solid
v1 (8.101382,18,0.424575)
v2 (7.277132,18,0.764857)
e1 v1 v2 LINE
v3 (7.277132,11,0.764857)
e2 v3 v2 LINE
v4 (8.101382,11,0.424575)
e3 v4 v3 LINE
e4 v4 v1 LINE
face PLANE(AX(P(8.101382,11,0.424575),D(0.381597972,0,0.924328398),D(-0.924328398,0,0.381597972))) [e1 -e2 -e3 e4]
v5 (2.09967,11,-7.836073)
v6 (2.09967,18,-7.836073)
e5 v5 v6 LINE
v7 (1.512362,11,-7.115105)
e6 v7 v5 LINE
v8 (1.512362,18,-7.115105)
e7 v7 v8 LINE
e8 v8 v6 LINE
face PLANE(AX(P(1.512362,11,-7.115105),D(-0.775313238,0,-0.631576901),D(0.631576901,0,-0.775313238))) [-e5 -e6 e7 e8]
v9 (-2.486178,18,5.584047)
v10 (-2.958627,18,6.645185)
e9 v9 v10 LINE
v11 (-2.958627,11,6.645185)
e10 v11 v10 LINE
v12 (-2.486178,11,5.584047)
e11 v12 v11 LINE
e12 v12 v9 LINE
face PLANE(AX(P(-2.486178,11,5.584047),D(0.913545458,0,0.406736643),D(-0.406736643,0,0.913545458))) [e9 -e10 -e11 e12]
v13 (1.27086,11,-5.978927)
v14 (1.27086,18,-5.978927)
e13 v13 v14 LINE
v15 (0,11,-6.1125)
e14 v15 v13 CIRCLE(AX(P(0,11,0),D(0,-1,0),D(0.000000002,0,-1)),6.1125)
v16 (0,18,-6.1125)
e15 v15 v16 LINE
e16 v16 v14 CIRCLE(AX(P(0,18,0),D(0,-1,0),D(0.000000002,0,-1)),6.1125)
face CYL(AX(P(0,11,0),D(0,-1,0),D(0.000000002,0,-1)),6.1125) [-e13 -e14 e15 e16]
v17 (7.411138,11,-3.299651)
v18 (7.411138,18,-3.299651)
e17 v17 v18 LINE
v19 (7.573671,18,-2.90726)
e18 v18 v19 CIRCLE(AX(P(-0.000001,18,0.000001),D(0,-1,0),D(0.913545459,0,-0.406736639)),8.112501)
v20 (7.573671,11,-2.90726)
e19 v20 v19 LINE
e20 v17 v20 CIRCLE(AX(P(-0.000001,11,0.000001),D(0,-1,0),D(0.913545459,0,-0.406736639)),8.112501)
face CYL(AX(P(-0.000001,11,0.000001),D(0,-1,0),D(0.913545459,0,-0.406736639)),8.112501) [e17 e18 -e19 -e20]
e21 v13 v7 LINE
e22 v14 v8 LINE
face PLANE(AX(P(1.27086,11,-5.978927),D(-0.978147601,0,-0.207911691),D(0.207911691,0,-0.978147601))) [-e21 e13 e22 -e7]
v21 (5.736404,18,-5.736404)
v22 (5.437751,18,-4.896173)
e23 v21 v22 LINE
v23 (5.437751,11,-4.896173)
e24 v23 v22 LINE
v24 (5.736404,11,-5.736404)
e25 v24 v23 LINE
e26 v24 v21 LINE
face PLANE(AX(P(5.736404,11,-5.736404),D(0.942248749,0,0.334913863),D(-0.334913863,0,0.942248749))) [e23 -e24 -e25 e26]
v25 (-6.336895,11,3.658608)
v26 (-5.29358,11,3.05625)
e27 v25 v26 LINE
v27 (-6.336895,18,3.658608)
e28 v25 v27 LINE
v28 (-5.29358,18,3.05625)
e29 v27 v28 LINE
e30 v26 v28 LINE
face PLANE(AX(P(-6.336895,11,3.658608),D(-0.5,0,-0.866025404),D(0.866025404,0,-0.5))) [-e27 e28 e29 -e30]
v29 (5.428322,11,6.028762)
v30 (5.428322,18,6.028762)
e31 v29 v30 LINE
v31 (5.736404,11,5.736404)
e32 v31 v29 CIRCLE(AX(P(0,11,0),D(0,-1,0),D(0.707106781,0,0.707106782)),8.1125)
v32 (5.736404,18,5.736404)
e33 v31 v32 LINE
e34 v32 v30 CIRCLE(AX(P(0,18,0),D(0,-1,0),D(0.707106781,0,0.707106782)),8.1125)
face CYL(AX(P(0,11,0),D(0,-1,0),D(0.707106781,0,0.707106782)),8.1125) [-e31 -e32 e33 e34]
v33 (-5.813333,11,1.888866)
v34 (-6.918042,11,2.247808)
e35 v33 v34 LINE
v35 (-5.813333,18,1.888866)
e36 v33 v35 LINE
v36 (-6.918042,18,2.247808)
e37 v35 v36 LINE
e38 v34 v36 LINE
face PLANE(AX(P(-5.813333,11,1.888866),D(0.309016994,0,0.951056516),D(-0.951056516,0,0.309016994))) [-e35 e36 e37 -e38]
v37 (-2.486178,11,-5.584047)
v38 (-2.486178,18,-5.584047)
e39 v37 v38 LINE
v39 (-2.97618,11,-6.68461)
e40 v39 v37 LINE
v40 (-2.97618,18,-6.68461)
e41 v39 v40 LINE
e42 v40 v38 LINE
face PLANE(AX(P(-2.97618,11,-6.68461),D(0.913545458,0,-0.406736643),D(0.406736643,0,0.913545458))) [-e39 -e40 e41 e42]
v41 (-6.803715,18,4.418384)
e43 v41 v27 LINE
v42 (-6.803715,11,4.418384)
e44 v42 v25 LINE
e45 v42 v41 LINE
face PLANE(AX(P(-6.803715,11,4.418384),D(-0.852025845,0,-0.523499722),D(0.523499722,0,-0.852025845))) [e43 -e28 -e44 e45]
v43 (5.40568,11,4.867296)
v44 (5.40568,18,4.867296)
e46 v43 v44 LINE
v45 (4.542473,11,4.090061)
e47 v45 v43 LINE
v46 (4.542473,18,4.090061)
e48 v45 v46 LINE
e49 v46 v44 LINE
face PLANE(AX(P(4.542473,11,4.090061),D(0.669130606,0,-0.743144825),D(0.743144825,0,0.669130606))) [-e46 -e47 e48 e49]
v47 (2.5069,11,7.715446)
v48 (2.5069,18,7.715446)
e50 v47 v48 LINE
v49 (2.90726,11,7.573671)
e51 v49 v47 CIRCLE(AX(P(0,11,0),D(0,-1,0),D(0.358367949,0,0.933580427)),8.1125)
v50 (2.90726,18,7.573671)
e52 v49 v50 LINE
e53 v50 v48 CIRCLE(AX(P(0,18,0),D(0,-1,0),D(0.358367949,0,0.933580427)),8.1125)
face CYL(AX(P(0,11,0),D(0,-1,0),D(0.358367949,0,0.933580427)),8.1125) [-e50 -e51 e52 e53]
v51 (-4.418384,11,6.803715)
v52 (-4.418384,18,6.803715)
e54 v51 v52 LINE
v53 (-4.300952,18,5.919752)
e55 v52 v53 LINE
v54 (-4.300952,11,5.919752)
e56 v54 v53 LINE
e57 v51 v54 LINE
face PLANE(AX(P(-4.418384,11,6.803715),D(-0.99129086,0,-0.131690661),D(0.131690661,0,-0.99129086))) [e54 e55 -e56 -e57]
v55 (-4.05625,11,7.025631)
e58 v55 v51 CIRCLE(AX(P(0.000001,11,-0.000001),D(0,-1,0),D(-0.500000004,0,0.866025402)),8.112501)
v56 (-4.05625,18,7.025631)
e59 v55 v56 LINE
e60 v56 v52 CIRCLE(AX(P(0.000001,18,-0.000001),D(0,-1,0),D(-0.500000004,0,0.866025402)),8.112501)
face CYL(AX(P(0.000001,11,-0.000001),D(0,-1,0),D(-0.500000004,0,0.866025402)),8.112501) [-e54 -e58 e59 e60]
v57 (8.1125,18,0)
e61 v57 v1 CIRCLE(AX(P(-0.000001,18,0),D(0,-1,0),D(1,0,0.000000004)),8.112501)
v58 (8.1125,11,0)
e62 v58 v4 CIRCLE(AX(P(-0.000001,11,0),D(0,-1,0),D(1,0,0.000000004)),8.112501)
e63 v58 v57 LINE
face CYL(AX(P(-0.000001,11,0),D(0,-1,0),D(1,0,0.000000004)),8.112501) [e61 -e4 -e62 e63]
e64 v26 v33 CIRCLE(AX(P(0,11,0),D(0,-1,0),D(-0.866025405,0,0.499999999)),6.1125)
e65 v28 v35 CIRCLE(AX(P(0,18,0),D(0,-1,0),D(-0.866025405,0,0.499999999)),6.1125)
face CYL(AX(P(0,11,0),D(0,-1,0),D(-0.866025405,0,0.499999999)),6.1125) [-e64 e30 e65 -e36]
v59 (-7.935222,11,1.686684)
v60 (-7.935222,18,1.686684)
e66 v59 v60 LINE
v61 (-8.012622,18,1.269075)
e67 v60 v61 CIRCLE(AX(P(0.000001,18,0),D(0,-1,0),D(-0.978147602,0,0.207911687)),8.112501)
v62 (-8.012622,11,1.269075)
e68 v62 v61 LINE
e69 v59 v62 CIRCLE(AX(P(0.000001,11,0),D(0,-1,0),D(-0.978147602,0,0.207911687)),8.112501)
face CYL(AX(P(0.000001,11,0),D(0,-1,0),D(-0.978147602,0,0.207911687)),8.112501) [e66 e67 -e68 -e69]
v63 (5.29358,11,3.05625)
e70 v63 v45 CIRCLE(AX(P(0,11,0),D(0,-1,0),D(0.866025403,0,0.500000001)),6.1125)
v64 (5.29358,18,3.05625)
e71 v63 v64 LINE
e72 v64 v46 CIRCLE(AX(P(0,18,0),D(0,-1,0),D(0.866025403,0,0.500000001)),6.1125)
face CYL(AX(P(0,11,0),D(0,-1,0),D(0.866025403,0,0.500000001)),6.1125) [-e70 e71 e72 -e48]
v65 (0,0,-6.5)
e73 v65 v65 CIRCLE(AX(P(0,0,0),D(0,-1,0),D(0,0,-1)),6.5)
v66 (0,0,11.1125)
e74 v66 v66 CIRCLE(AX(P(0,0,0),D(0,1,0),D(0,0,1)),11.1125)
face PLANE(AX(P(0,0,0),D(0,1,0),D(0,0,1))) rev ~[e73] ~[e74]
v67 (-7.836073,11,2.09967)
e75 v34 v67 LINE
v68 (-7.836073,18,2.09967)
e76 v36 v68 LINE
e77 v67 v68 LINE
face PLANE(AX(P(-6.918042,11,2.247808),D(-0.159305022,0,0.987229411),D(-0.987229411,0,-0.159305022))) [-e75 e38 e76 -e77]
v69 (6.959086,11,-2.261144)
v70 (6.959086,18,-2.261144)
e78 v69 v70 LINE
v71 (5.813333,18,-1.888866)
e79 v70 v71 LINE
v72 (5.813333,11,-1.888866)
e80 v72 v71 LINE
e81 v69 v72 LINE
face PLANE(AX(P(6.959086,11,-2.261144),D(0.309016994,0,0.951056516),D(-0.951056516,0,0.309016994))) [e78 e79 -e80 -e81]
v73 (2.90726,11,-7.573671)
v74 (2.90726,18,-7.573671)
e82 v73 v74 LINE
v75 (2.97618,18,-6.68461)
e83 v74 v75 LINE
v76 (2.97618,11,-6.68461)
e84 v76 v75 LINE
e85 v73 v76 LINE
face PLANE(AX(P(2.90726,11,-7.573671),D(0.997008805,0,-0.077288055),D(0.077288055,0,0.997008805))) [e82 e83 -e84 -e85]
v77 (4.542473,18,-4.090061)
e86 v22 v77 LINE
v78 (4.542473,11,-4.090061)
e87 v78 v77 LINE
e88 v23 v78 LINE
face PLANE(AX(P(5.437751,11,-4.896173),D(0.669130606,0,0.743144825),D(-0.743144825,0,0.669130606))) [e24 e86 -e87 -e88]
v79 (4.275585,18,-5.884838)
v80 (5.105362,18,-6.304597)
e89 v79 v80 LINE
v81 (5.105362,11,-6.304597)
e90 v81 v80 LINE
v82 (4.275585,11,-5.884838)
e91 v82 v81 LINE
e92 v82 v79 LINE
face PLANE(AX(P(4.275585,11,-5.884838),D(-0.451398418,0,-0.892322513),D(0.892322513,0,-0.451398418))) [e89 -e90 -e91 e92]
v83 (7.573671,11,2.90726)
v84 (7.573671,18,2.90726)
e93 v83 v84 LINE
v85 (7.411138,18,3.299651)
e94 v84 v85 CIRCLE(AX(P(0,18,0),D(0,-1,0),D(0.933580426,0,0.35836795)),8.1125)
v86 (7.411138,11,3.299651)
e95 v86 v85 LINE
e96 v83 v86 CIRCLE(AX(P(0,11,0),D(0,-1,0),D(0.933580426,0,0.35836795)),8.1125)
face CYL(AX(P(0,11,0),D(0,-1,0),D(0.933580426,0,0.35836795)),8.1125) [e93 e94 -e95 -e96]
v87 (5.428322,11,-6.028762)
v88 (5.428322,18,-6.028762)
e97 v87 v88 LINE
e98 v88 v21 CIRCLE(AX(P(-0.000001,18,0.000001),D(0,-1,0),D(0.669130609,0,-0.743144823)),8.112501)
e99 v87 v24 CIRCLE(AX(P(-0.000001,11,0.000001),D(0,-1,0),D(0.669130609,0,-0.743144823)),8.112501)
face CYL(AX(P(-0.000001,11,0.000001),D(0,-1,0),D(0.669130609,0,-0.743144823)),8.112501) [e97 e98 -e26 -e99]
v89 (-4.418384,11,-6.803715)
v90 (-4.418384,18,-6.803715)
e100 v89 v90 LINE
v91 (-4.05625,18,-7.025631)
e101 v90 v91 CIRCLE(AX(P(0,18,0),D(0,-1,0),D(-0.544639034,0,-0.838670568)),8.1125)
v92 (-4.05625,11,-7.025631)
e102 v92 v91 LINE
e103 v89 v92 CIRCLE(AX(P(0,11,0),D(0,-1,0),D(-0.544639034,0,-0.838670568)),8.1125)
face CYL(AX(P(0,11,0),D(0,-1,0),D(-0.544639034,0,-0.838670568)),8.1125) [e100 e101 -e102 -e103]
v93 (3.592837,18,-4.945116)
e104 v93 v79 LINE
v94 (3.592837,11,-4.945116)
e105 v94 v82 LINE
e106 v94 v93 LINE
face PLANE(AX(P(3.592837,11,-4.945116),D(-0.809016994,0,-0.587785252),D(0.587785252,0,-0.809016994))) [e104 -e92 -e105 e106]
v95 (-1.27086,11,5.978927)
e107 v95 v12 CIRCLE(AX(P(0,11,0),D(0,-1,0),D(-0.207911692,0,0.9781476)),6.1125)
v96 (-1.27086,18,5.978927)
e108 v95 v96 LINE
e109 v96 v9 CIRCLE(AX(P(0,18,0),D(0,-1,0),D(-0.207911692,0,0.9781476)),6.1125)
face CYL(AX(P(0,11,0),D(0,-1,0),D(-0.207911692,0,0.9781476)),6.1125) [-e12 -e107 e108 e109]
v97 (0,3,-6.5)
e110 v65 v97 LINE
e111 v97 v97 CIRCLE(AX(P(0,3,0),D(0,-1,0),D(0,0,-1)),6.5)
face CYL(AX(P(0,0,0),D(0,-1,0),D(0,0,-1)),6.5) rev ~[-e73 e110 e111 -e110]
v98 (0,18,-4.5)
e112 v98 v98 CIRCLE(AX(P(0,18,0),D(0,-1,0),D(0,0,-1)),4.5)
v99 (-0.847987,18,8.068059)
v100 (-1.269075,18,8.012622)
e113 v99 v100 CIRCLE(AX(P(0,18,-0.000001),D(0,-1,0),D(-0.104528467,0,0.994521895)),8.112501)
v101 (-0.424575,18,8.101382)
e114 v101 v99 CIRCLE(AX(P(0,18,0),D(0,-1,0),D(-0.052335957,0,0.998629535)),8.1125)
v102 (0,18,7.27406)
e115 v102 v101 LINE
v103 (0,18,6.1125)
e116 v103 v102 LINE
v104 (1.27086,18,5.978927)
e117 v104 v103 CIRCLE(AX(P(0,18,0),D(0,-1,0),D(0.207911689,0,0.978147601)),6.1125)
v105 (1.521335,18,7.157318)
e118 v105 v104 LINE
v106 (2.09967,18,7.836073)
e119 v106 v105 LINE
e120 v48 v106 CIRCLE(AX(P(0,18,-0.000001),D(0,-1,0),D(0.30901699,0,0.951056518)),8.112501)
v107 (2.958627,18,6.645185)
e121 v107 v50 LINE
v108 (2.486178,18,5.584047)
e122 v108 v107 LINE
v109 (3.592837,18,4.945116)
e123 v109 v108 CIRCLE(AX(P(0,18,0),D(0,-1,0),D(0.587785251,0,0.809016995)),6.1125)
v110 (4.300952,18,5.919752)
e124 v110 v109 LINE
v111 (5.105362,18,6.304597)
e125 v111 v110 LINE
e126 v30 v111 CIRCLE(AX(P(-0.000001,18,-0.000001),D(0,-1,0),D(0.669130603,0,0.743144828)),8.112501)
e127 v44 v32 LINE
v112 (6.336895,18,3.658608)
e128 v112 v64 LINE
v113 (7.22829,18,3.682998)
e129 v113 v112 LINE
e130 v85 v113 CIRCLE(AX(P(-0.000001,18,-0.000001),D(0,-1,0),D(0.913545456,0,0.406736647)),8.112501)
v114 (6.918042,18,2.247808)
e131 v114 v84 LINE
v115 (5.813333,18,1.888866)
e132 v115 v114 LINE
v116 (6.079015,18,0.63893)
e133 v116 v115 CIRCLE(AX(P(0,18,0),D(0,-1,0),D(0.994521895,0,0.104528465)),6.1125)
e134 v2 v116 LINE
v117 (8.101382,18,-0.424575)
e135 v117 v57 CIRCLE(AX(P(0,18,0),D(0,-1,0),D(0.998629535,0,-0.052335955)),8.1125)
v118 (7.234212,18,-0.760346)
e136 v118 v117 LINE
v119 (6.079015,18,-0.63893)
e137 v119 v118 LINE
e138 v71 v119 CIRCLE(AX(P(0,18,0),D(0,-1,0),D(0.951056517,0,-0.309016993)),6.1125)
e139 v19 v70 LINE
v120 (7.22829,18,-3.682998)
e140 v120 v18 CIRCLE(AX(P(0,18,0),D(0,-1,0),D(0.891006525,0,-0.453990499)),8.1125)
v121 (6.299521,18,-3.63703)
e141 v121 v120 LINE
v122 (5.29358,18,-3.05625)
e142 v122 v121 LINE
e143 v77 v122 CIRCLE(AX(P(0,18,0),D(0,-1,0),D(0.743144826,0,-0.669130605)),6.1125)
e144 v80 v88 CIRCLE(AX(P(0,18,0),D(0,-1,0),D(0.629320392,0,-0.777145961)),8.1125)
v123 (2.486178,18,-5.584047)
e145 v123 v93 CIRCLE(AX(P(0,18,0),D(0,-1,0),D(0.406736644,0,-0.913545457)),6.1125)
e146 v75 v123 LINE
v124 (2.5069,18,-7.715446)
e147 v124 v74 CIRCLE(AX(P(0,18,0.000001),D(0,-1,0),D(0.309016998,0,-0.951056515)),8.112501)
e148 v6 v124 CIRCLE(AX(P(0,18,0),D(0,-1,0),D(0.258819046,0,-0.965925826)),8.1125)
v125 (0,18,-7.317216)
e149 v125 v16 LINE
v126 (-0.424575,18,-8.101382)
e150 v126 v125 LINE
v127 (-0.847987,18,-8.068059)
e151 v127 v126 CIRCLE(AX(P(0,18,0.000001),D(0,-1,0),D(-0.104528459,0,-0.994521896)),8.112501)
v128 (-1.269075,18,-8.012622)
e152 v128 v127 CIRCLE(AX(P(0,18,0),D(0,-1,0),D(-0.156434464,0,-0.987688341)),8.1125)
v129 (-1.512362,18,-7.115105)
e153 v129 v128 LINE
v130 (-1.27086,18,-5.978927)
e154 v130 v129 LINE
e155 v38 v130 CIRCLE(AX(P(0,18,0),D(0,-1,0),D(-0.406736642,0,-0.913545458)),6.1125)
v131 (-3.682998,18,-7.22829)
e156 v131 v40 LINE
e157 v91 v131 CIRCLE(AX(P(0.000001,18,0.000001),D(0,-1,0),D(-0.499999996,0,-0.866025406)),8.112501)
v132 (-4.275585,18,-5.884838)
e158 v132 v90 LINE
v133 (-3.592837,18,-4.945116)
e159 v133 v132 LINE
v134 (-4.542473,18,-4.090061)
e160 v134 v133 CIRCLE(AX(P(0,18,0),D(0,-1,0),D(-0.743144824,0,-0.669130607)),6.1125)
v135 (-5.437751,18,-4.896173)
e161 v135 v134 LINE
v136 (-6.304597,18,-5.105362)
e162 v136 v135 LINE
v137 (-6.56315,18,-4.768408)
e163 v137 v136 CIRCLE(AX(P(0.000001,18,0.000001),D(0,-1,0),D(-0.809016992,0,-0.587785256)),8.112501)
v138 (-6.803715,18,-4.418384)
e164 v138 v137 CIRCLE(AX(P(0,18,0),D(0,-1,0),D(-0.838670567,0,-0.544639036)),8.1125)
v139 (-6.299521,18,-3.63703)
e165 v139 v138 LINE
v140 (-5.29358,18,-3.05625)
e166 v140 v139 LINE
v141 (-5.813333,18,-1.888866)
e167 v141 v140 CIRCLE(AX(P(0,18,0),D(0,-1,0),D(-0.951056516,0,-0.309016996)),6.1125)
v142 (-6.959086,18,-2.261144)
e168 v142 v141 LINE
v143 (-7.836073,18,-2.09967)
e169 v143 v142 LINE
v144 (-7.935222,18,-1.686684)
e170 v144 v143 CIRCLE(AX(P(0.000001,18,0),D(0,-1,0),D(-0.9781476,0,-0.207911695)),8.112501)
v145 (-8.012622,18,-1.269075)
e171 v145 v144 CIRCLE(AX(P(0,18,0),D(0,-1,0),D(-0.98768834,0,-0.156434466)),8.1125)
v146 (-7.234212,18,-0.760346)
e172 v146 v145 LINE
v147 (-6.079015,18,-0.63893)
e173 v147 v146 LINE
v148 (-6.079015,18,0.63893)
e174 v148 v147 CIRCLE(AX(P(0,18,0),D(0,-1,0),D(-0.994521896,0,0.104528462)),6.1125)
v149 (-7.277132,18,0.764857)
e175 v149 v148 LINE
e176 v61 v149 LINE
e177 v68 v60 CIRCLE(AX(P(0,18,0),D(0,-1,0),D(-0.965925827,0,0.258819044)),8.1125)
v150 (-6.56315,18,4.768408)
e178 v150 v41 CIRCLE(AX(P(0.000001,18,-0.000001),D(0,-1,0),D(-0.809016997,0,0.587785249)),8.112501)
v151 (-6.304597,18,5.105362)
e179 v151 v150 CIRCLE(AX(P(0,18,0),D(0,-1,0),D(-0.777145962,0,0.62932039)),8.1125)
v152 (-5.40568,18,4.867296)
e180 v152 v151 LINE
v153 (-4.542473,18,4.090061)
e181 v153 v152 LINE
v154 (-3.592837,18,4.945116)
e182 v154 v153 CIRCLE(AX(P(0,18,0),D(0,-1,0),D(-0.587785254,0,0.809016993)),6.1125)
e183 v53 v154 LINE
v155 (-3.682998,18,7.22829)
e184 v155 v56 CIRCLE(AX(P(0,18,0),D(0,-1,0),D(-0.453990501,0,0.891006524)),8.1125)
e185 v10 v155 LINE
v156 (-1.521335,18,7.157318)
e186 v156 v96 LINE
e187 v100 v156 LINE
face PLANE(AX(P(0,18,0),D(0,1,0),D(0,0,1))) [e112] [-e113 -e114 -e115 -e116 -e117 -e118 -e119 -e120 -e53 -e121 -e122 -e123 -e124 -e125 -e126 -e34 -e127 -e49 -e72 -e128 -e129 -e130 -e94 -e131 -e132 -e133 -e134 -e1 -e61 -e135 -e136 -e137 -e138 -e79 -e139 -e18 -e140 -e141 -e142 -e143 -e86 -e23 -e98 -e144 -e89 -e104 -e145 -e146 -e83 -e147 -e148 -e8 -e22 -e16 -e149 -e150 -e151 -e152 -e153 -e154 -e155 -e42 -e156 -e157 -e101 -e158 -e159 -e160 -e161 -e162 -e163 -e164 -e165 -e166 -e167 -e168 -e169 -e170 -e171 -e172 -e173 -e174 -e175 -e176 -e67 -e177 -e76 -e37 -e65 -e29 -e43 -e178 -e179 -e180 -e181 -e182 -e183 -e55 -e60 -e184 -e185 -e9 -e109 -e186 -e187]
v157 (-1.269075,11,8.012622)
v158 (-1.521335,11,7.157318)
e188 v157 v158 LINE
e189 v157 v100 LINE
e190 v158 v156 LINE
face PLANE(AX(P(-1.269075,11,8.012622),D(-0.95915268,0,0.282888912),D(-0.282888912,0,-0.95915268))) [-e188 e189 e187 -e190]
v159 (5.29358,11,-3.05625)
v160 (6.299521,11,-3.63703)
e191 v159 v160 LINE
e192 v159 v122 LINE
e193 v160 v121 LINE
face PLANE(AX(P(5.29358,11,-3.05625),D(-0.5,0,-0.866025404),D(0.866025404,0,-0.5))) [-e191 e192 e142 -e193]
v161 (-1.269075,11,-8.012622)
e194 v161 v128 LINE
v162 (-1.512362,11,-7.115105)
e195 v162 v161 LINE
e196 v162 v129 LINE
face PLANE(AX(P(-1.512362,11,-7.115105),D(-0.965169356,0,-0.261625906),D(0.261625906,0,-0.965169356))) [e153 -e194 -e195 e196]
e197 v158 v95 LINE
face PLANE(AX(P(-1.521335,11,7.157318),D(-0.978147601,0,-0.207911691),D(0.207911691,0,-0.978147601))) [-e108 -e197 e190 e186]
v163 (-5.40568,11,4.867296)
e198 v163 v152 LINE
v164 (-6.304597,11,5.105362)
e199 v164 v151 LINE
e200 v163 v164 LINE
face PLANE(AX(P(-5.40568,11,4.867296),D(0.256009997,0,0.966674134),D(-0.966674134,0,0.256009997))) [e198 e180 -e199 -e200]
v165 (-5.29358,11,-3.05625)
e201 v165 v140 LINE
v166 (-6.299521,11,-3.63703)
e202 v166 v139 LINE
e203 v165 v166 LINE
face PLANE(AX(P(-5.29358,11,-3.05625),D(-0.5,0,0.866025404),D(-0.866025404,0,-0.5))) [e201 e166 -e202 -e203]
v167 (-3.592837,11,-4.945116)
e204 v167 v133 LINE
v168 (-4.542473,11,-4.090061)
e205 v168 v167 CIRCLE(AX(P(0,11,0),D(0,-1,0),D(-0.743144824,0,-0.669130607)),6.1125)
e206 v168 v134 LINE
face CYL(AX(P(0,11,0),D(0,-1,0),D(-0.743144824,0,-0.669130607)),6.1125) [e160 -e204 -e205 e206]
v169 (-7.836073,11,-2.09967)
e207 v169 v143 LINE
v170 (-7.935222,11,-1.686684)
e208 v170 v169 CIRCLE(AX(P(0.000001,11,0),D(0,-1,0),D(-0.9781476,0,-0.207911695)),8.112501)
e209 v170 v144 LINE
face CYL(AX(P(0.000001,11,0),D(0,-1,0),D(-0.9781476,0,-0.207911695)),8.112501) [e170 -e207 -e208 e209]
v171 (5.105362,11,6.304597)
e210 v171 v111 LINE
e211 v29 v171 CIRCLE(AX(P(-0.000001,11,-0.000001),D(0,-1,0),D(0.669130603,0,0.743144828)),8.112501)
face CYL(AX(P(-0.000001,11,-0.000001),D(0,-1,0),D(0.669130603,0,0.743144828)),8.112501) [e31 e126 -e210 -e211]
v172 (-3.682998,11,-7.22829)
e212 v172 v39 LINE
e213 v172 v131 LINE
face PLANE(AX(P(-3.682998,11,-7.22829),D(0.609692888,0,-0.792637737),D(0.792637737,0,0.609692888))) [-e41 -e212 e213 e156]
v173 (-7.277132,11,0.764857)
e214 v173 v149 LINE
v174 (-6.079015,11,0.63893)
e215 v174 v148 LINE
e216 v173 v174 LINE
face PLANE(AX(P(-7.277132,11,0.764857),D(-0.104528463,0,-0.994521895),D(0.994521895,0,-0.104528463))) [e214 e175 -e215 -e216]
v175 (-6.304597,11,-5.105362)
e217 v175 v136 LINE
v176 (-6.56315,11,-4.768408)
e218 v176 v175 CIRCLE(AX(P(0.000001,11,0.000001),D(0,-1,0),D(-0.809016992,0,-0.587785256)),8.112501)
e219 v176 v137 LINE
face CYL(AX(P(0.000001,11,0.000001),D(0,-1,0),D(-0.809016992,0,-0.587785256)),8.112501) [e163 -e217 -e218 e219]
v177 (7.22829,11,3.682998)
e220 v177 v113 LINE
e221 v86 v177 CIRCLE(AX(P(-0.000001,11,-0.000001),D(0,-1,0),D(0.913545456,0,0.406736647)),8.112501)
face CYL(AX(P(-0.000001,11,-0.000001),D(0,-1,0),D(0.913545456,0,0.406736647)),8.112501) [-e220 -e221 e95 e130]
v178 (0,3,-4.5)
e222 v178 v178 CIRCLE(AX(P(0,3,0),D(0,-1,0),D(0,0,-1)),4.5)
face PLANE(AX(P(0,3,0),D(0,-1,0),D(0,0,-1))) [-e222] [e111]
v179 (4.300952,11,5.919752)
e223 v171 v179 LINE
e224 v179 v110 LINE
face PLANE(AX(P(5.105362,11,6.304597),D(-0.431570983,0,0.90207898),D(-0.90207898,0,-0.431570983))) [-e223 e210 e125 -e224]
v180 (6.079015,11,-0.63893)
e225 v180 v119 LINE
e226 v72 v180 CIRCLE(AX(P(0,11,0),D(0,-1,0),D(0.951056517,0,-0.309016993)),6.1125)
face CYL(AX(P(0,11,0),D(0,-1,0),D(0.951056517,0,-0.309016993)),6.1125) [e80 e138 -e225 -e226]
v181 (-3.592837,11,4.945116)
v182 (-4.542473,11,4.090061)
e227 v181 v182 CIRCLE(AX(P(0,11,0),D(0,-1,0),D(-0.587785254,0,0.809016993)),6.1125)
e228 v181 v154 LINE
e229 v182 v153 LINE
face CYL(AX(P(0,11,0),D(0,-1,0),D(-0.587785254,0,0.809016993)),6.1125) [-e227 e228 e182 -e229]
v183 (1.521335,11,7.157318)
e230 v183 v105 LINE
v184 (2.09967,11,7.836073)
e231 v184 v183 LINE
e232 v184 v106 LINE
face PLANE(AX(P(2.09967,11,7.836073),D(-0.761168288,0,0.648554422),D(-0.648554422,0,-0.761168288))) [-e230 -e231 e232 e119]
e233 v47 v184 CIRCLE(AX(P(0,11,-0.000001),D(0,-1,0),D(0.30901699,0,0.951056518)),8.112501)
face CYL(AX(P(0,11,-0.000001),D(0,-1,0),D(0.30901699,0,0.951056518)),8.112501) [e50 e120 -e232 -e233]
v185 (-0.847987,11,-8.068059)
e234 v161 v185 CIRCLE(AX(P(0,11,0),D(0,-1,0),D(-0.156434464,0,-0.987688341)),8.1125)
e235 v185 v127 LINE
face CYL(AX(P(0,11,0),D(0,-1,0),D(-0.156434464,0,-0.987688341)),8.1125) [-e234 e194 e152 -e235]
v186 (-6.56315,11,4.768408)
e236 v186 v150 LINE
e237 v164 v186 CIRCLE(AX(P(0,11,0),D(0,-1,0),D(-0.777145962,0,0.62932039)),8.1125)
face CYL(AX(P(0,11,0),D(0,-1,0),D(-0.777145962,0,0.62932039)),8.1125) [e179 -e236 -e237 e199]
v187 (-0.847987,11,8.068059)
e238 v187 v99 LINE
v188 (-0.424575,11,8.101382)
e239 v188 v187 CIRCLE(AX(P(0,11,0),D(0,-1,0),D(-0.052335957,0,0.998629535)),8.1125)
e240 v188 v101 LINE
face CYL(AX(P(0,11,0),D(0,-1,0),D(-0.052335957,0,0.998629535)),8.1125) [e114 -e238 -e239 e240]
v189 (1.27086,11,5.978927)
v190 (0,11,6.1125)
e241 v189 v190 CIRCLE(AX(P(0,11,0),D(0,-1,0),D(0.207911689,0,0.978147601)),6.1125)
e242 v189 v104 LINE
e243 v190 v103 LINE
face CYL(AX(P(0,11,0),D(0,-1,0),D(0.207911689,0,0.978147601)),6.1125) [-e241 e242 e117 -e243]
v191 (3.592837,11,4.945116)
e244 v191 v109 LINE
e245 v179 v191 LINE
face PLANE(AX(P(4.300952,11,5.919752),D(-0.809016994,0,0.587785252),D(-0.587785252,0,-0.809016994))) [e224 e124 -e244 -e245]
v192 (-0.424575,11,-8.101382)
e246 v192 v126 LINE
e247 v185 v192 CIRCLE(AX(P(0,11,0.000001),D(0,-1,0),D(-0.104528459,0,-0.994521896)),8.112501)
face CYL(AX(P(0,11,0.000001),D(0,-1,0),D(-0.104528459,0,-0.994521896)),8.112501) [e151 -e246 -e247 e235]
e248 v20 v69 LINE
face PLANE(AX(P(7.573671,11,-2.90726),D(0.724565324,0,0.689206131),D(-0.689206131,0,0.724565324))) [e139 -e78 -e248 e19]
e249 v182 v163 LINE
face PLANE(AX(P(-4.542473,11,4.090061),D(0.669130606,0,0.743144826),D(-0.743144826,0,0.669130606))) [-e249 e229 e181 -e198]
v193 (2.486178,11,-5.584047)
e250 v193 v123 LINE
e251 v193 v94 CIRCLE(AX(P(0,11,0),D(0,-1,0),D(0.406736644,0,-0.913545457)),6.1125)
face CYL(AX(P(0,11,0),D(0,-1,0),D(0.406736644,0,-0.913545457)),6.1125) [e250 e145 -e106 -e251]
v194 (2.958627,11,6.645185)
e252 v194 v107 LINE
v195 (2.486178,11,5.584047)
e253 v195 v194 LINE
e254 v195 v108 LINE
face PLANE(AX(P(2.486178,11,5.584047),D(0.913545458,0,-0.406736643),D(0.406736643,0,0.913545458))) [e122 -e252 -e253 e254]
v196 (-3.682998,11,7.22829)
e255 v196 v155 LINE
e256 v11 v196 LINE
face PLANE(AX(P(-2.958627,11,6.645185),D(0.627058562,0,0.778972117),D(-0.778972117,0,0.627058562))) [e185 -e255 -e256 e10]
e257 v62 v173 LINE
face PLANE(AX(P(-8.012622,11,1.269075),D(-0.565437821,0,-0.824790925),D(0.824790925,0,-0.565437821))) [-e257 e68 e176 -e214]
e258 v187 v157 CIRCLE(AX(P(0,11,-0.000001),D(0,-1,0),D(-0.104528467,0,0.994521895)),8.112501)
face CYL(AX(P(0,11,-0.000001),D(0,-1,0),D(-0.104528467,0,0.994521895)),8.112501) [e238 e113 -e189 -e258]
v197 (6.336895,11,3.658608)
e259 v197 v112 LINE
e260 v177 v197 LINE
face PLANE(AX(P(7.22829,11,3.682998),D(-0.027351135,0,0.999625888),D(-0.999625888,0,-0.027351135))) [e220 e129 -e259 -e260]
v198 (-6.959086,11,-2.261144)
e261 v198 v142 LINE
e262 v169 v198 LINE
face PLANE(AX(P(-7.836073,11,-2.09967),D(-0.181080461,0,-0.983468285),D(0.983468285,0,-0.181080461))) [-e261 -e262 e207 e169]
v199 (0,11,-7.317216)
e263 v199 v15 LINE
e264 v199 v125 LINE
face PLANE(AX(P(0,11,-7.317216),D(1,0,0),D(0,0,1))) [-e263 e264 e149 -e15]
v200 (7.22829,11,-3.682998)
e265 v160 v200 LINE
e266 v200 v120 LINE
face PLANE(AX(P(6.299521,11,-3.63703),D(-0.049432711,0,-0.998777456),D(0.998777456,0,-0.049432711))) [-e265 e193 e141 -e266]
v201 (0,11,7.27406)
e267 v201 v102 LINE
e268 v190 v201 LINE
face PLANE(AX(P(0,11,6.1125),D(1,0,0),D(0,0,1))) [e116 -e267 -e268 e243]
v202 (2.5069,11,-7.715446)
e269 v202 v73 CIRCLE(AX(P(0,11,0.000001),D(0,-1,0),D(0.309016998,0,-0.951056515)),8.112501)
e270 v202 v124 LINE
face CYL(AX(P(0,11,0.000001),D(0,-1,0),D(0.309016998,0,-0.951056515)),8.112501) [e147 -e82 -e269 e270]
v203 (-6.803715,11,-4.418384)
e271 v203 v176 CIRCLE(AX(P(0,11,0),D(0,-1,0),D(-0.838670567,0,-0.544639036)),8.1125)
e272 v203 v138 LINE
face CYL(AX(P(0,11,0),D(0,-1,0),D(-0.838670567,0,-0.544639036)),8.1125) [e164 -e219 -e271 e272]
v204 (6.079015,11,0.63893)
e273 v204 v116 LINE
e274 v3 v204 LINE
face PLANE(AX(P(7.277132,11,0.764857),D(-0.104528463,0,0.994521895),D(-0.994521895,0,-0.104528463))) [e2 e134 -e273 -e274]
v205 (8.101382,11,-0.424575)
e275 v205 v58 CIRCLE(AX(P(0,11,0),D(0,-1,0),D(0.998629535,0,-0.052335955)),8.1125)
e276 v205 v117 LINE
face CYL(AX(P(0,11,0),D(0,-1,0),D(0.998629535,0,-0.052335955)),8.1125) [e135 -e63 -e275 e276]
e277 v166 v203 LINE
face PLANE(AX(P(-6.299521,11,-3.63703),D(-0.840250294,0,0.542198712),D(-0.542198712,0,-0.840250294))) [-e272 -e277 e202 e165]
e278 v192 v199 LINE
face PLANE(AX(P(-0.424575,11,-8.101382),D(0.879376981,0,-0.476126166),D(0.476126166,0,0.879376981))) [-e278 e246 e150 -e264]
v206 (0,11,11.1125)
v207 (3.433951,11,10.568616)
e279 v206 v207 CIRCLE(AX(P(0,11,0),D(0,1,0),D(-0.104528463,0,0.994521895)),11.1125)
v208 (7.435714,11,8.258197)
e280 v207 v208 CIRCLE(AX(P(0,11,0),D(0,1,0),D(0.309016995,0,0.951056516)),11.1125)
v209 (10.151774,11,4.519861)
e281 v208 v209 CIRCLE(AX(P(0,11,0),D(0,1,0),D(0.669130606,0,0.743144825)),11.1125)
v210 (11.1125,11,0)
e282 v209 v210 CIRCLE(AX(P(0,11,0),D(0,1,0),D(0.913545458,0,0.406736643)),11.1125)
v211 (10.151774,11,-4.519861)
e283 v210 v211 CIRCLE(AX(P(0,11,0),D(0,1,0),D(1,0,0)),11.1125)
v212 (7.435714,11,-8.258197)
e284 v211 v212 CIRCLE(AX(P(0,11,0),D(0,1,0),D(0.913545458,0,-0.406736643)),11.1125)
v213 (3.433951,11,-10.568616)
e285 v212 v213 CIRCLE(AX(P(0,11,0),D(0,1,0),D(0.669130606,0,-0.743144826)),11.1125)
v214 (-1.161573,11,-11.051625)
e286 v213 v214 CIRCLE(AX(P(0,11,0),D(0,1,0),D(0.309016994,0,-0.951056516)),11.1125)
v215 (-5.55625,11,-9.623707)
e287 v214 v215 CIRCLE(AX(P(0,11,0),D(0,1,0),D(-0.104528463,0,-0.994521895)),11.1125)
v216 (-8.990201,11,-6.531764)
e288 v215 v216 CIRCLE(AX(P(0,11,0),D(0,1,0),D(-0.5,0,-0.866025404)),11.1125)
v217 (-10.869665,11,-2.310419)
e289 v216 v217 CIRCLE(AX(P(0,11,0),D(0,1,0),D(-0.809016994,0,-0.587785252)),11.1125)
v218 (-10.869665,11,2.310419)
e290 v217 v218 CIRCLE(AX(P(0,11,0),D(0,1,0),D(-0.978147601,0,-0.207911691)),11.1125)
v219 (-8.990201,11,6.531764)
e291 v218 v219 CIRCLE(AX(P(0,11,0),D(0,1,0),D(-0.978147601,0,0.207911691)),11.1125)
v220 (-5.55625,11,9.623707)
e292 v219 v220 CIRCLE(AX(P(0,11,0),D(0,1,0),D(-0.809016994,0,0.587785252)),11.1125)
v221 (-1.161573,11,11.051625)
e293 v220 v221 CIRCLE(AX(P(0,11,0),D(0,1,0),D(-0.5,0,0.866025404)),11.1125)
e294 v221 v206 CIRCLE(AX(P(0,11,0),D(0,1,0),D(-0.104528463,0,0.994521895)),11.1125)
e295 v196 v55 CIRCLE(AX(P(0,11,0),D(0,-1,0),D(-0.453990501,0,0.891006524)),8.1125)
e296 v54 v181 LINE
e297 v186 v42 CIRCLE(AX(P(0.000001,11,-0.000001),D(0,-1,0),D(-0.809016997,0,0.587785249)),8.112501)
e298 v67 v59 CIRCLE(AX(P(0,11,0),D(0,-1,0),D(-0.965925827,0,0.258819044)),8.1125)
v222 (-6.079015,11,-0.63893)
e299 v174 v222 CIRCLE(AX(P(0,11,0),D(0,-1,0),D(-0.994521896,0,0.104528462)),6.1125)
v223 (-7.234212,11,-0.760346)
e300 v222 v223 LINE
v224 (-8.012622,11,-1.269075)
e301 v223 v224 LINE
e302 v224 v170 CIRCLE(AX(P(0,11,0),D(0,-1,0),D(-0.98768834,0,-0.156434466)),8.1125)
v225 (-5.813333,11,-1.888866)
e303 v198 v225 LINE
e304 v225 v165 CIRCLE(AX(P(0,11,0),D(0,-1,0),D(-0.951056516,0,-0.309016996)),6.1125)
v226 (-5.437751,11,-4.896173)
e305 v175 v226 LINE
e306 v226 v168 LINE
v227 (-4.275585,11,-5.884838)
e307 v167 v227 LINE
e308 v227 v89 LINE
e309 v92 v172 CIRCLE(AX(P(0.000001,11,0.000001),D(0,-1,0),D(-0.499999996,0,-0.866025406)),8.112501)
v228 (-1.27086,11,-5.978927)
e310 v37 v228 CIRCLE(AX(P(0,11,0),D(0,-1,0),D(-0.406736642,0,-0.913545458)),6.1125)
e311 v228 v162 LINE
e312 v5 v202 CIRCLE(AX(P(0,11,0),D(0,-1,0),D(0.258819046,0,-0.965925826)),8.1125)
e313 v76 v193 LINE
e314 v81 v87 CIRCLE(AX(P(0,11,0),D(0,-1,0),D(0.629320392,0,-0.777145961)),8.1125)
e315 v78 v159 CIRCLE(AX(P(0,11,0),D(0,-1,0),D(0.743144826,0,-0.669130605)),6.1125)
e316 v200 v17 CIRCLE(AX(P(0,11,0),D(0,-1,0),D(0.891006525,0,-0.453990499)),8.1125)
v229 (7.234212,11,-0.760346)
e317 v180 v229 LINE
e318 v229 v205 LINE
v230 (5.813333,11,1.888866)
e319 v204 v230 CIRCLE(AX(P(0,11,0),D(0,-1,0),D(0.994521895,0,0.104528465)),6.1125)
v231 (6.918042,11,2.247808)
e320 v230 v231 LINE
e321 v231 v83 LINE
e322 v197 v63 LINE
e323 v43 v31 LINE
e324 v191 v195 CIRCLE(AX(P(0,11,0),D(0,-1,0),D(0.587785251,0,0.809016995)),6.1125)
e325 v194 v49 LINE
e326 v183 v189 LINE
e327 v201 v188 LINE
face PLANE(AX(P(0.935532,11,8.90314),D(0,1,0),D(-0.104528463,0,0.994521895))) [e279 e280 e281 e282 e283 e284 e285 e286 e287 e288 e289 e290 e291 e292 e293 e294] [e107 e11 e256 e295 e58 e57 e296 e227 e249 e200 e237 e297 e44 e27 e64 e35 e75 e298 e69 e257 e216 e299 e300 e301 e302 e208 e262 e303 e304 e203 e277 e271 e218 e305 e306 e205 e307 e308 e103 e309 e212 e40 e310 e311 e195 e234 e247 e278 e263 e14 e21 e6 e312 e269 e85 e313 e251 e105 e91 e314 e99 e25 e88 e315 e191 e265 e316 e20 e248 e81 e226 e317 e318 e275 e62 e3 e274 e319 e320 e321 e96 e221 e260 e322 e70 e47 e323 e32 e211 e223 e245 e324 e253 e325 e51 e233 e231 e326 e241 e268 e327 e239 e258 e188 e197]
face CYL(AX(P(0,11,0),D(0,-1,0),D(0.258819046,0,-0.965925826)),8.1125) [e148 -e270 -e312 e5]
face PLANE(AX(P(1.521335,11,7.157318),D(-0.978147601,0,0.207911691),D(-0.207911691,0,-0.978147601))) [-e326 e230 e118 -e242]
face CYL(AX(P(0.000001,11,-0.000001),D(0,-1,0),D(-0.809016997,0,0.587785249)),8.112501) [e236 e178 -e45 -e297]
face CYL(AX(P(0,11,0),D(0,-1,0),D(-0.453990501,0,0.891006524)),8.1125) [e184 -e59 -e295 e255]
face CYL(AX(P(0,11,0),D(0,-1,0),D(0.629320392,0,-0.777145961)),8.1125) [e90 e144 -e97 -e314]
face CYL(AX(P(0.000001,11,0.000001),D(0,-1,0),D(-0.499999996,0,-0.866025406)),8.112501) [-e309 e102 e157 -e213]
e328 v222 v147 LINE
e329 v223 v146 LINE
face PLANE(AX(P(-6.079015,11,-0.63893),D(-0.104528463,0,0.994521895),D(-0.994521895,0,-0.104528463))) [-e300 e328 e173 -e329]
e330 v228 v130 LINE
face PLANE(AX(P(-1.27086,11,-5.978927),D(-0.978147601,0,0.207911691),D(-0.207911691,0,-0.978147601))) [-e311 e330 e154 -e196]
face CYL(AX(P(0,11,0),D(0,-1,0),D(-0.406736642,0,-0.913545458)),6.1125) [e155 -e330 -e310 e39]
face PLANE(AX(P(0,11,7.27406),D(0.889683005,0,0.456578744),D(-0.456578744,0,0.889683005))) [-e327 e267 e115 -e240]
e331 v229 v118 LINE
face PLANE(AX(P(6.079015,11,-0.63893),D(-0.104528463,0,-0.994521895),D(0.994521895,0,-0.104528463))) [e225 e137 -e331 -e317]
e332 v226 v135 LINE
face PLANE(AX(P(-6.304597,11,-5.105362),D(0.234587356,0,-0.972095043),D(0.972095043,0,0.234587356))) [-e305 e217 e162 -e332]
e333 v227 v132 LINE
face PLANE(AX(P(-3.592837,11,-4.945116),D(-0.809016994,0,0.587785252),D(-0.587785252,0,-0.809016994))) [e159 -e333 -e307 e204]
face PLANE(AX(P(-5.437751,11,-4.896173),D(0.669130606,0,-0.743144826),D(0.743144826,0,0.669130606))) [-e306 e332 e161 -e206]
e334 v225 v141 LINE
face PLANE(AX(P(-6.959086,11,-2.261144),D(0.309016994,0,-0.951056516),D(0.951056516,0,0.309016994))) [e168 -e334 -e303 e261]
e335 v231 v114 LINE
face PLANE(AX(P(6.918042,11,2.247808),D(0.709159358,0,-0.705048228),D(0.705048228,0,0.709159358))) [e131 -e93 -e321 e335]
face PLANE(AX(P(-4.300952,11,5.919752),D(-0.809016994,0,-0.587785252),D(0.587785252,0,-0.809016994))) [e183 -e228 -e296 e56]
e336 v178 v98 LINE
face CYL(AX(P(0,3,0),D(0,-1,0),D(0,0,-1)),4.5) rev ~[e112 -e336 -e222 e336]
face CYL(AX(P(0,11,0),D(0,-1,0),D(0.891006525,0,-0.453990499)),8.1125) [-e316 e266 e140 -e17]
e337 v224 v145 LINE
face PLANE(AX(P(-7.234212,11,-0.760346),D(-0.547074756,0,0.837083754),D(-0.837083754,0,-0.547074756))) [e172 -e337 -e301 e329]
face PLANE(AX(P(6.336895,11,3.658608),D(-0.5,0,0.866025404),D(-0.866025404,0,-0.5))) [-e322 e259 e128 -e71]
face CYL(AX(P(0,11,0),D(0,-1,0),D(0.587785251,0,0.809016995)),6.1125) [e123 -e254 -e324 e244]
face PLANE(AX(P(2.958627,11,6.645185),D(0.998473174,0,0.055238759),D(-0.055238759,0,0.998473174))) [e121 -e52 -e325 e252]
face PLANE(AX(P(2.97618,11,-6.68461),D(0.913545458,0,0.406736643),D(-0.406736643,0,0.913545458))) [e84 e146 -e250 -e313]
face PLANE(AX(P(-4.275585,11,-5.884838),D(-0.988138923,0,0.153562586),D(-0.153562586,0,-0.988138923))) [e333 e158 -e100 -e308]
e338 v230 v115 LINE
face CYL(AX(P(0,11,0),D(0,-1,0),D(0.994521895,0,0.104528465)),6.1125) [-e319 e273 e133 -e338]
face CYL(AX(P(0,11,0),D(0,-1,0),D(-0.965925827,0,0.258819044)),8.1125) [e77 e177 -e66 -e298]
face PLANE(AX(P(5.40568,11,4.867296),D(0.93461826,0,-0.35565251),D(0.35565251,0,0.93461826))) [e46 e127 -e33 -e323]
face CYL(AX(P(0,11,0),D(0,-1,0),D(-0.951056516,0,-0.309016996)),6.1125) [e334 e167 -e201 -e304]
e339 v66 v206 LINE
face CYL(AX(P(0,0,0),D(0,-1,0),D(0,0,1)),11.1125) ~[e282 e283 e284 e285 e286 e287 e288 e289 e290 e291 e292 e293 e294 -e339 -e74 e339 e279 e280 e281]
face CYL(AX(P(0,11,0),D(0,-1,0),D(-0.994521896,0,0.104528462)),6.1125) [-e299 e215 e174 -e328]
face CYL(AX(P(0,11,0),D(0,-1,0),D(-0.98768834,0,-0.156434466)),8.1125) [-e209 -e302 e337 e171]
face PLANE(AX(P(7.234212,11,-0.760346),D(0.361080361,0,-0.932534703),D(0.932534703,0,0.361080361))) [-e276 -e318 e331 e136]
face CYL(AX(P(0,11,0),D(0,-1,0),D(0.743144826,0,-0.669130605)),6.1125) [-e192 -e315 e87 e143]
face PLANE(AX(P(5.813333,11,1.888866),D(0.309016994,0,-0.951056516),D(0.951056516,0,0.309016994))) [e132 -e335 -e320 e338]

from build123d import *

# Parameters (mm, degrees)
SKETCH1_R           = 11.1125
BOSS_EXTRUDE1_DEPTH = 18
CUT_EXTRUDE2_START  = -7
CUT_EXTRUDE2_DEPTH  = 7
CIRPATTERN1_COUNT   = 15
SKETCH3_R           = 6.5
CUT_EXTRUDE3_DEPTH  = 3
SKETCH4_R           = 4.5
CUT_EXTRUDE4_DEPTH  = 22.724992808


with BuildPart() as part:
    # Sketch1 → Boss-Extrude1 (new body)
    with BuildSketch(Plane(origin=(0, 0, 0), x_dir=(1, 0, 0), z_dir=(0, 1, 0))):
        with Locations(Location((0, 0, 0), (0, 0, 270))):
            Circle(SKETCH1_R)
    extrude(amount=BOSS_EXTRUDE1_DEPTH)

    # Sketch2 → Cut-Extrude2 (cut)
    with BuildSketch(Plane(origin=(0, 18, 0), x_dir=(1, 0, 0), z_dir=(0, 1, 0)).offset(CUT_EXTRUDE2_START)):
        with BuildLine():
            Line((10.151773898, 4.519860946), (7.411137525, 3.299651017))
            ThreePointArc((7.411137525, 3.299651017), (7.494972707, 3.104519345), (7.57367121, 2.907259991))
            Line((7.57367121, 2.907259991), (6.959086209, 2.261144177))
            Line((6.959086209, 2.261144177), (5.813332956, 1.888866378))
            ThreePointArc((5.813332956, 1.888866378), (5.978927209, 1.27086021), (6.079015085, 0.638930232))
            Line((6.079015085, 0.638930232), (7.234212217, 0.760346343))
            Line((7.234212217, 0.760346343), (8.101382101, 0.424575445))
            ThreePointArc((8.101382101, 0.424575445), (8.109720049, 0.212360493), (8.1125, 0))
            Line((8.1125, 0), (11.1125, 0))
            ThreePointArc((11.1125, 0), (10.869665213, 2.310418664), (10.151773898, 4.519860946))
        make_face()
    cut_extrude2 = extrude(amount=CUT_EXTRUDE2_DEPTH, mode=Mode.SUBTRACT)

    # CirPattern1: Cut-Extrude2 ×15 about axis
    cirpattern1_axis = Axis((0, 0, 0), (0, 1, 0))
    for i in range(1, CIRPATTERN1_COUNT):
        add(cut_extrude2.rotate(cirpattern1_axis, i * 360 / CIRPATTERN1_COUNT), mode=Mode.SUBTRACT)

    # Sketch3 → Cut-Extrude3 (cut)
    with BuildSketch(Plane.XZ):
        with Locations(Location((0, 0, 0), (0, 0, 270))):
            Circle(SKETCH3_R)
    extrude(amount=-CUT_EXTRUDE3_DEPTH, mode=Mode.SUBTRACT)

    # Sketch4 → Cut-Extrude4 (cut, through all)
    with BuildSketch(Plane.XZ.offset(-3)):
        with Locations(Location((0, 0, 0), (0, 0, 270))):
            Circle(SKETCH4_R)
    extrude(amount=-CUT_EXTRUDE4_DEPTH, mode=Mode.SUBTRACT)


solid = part.part
